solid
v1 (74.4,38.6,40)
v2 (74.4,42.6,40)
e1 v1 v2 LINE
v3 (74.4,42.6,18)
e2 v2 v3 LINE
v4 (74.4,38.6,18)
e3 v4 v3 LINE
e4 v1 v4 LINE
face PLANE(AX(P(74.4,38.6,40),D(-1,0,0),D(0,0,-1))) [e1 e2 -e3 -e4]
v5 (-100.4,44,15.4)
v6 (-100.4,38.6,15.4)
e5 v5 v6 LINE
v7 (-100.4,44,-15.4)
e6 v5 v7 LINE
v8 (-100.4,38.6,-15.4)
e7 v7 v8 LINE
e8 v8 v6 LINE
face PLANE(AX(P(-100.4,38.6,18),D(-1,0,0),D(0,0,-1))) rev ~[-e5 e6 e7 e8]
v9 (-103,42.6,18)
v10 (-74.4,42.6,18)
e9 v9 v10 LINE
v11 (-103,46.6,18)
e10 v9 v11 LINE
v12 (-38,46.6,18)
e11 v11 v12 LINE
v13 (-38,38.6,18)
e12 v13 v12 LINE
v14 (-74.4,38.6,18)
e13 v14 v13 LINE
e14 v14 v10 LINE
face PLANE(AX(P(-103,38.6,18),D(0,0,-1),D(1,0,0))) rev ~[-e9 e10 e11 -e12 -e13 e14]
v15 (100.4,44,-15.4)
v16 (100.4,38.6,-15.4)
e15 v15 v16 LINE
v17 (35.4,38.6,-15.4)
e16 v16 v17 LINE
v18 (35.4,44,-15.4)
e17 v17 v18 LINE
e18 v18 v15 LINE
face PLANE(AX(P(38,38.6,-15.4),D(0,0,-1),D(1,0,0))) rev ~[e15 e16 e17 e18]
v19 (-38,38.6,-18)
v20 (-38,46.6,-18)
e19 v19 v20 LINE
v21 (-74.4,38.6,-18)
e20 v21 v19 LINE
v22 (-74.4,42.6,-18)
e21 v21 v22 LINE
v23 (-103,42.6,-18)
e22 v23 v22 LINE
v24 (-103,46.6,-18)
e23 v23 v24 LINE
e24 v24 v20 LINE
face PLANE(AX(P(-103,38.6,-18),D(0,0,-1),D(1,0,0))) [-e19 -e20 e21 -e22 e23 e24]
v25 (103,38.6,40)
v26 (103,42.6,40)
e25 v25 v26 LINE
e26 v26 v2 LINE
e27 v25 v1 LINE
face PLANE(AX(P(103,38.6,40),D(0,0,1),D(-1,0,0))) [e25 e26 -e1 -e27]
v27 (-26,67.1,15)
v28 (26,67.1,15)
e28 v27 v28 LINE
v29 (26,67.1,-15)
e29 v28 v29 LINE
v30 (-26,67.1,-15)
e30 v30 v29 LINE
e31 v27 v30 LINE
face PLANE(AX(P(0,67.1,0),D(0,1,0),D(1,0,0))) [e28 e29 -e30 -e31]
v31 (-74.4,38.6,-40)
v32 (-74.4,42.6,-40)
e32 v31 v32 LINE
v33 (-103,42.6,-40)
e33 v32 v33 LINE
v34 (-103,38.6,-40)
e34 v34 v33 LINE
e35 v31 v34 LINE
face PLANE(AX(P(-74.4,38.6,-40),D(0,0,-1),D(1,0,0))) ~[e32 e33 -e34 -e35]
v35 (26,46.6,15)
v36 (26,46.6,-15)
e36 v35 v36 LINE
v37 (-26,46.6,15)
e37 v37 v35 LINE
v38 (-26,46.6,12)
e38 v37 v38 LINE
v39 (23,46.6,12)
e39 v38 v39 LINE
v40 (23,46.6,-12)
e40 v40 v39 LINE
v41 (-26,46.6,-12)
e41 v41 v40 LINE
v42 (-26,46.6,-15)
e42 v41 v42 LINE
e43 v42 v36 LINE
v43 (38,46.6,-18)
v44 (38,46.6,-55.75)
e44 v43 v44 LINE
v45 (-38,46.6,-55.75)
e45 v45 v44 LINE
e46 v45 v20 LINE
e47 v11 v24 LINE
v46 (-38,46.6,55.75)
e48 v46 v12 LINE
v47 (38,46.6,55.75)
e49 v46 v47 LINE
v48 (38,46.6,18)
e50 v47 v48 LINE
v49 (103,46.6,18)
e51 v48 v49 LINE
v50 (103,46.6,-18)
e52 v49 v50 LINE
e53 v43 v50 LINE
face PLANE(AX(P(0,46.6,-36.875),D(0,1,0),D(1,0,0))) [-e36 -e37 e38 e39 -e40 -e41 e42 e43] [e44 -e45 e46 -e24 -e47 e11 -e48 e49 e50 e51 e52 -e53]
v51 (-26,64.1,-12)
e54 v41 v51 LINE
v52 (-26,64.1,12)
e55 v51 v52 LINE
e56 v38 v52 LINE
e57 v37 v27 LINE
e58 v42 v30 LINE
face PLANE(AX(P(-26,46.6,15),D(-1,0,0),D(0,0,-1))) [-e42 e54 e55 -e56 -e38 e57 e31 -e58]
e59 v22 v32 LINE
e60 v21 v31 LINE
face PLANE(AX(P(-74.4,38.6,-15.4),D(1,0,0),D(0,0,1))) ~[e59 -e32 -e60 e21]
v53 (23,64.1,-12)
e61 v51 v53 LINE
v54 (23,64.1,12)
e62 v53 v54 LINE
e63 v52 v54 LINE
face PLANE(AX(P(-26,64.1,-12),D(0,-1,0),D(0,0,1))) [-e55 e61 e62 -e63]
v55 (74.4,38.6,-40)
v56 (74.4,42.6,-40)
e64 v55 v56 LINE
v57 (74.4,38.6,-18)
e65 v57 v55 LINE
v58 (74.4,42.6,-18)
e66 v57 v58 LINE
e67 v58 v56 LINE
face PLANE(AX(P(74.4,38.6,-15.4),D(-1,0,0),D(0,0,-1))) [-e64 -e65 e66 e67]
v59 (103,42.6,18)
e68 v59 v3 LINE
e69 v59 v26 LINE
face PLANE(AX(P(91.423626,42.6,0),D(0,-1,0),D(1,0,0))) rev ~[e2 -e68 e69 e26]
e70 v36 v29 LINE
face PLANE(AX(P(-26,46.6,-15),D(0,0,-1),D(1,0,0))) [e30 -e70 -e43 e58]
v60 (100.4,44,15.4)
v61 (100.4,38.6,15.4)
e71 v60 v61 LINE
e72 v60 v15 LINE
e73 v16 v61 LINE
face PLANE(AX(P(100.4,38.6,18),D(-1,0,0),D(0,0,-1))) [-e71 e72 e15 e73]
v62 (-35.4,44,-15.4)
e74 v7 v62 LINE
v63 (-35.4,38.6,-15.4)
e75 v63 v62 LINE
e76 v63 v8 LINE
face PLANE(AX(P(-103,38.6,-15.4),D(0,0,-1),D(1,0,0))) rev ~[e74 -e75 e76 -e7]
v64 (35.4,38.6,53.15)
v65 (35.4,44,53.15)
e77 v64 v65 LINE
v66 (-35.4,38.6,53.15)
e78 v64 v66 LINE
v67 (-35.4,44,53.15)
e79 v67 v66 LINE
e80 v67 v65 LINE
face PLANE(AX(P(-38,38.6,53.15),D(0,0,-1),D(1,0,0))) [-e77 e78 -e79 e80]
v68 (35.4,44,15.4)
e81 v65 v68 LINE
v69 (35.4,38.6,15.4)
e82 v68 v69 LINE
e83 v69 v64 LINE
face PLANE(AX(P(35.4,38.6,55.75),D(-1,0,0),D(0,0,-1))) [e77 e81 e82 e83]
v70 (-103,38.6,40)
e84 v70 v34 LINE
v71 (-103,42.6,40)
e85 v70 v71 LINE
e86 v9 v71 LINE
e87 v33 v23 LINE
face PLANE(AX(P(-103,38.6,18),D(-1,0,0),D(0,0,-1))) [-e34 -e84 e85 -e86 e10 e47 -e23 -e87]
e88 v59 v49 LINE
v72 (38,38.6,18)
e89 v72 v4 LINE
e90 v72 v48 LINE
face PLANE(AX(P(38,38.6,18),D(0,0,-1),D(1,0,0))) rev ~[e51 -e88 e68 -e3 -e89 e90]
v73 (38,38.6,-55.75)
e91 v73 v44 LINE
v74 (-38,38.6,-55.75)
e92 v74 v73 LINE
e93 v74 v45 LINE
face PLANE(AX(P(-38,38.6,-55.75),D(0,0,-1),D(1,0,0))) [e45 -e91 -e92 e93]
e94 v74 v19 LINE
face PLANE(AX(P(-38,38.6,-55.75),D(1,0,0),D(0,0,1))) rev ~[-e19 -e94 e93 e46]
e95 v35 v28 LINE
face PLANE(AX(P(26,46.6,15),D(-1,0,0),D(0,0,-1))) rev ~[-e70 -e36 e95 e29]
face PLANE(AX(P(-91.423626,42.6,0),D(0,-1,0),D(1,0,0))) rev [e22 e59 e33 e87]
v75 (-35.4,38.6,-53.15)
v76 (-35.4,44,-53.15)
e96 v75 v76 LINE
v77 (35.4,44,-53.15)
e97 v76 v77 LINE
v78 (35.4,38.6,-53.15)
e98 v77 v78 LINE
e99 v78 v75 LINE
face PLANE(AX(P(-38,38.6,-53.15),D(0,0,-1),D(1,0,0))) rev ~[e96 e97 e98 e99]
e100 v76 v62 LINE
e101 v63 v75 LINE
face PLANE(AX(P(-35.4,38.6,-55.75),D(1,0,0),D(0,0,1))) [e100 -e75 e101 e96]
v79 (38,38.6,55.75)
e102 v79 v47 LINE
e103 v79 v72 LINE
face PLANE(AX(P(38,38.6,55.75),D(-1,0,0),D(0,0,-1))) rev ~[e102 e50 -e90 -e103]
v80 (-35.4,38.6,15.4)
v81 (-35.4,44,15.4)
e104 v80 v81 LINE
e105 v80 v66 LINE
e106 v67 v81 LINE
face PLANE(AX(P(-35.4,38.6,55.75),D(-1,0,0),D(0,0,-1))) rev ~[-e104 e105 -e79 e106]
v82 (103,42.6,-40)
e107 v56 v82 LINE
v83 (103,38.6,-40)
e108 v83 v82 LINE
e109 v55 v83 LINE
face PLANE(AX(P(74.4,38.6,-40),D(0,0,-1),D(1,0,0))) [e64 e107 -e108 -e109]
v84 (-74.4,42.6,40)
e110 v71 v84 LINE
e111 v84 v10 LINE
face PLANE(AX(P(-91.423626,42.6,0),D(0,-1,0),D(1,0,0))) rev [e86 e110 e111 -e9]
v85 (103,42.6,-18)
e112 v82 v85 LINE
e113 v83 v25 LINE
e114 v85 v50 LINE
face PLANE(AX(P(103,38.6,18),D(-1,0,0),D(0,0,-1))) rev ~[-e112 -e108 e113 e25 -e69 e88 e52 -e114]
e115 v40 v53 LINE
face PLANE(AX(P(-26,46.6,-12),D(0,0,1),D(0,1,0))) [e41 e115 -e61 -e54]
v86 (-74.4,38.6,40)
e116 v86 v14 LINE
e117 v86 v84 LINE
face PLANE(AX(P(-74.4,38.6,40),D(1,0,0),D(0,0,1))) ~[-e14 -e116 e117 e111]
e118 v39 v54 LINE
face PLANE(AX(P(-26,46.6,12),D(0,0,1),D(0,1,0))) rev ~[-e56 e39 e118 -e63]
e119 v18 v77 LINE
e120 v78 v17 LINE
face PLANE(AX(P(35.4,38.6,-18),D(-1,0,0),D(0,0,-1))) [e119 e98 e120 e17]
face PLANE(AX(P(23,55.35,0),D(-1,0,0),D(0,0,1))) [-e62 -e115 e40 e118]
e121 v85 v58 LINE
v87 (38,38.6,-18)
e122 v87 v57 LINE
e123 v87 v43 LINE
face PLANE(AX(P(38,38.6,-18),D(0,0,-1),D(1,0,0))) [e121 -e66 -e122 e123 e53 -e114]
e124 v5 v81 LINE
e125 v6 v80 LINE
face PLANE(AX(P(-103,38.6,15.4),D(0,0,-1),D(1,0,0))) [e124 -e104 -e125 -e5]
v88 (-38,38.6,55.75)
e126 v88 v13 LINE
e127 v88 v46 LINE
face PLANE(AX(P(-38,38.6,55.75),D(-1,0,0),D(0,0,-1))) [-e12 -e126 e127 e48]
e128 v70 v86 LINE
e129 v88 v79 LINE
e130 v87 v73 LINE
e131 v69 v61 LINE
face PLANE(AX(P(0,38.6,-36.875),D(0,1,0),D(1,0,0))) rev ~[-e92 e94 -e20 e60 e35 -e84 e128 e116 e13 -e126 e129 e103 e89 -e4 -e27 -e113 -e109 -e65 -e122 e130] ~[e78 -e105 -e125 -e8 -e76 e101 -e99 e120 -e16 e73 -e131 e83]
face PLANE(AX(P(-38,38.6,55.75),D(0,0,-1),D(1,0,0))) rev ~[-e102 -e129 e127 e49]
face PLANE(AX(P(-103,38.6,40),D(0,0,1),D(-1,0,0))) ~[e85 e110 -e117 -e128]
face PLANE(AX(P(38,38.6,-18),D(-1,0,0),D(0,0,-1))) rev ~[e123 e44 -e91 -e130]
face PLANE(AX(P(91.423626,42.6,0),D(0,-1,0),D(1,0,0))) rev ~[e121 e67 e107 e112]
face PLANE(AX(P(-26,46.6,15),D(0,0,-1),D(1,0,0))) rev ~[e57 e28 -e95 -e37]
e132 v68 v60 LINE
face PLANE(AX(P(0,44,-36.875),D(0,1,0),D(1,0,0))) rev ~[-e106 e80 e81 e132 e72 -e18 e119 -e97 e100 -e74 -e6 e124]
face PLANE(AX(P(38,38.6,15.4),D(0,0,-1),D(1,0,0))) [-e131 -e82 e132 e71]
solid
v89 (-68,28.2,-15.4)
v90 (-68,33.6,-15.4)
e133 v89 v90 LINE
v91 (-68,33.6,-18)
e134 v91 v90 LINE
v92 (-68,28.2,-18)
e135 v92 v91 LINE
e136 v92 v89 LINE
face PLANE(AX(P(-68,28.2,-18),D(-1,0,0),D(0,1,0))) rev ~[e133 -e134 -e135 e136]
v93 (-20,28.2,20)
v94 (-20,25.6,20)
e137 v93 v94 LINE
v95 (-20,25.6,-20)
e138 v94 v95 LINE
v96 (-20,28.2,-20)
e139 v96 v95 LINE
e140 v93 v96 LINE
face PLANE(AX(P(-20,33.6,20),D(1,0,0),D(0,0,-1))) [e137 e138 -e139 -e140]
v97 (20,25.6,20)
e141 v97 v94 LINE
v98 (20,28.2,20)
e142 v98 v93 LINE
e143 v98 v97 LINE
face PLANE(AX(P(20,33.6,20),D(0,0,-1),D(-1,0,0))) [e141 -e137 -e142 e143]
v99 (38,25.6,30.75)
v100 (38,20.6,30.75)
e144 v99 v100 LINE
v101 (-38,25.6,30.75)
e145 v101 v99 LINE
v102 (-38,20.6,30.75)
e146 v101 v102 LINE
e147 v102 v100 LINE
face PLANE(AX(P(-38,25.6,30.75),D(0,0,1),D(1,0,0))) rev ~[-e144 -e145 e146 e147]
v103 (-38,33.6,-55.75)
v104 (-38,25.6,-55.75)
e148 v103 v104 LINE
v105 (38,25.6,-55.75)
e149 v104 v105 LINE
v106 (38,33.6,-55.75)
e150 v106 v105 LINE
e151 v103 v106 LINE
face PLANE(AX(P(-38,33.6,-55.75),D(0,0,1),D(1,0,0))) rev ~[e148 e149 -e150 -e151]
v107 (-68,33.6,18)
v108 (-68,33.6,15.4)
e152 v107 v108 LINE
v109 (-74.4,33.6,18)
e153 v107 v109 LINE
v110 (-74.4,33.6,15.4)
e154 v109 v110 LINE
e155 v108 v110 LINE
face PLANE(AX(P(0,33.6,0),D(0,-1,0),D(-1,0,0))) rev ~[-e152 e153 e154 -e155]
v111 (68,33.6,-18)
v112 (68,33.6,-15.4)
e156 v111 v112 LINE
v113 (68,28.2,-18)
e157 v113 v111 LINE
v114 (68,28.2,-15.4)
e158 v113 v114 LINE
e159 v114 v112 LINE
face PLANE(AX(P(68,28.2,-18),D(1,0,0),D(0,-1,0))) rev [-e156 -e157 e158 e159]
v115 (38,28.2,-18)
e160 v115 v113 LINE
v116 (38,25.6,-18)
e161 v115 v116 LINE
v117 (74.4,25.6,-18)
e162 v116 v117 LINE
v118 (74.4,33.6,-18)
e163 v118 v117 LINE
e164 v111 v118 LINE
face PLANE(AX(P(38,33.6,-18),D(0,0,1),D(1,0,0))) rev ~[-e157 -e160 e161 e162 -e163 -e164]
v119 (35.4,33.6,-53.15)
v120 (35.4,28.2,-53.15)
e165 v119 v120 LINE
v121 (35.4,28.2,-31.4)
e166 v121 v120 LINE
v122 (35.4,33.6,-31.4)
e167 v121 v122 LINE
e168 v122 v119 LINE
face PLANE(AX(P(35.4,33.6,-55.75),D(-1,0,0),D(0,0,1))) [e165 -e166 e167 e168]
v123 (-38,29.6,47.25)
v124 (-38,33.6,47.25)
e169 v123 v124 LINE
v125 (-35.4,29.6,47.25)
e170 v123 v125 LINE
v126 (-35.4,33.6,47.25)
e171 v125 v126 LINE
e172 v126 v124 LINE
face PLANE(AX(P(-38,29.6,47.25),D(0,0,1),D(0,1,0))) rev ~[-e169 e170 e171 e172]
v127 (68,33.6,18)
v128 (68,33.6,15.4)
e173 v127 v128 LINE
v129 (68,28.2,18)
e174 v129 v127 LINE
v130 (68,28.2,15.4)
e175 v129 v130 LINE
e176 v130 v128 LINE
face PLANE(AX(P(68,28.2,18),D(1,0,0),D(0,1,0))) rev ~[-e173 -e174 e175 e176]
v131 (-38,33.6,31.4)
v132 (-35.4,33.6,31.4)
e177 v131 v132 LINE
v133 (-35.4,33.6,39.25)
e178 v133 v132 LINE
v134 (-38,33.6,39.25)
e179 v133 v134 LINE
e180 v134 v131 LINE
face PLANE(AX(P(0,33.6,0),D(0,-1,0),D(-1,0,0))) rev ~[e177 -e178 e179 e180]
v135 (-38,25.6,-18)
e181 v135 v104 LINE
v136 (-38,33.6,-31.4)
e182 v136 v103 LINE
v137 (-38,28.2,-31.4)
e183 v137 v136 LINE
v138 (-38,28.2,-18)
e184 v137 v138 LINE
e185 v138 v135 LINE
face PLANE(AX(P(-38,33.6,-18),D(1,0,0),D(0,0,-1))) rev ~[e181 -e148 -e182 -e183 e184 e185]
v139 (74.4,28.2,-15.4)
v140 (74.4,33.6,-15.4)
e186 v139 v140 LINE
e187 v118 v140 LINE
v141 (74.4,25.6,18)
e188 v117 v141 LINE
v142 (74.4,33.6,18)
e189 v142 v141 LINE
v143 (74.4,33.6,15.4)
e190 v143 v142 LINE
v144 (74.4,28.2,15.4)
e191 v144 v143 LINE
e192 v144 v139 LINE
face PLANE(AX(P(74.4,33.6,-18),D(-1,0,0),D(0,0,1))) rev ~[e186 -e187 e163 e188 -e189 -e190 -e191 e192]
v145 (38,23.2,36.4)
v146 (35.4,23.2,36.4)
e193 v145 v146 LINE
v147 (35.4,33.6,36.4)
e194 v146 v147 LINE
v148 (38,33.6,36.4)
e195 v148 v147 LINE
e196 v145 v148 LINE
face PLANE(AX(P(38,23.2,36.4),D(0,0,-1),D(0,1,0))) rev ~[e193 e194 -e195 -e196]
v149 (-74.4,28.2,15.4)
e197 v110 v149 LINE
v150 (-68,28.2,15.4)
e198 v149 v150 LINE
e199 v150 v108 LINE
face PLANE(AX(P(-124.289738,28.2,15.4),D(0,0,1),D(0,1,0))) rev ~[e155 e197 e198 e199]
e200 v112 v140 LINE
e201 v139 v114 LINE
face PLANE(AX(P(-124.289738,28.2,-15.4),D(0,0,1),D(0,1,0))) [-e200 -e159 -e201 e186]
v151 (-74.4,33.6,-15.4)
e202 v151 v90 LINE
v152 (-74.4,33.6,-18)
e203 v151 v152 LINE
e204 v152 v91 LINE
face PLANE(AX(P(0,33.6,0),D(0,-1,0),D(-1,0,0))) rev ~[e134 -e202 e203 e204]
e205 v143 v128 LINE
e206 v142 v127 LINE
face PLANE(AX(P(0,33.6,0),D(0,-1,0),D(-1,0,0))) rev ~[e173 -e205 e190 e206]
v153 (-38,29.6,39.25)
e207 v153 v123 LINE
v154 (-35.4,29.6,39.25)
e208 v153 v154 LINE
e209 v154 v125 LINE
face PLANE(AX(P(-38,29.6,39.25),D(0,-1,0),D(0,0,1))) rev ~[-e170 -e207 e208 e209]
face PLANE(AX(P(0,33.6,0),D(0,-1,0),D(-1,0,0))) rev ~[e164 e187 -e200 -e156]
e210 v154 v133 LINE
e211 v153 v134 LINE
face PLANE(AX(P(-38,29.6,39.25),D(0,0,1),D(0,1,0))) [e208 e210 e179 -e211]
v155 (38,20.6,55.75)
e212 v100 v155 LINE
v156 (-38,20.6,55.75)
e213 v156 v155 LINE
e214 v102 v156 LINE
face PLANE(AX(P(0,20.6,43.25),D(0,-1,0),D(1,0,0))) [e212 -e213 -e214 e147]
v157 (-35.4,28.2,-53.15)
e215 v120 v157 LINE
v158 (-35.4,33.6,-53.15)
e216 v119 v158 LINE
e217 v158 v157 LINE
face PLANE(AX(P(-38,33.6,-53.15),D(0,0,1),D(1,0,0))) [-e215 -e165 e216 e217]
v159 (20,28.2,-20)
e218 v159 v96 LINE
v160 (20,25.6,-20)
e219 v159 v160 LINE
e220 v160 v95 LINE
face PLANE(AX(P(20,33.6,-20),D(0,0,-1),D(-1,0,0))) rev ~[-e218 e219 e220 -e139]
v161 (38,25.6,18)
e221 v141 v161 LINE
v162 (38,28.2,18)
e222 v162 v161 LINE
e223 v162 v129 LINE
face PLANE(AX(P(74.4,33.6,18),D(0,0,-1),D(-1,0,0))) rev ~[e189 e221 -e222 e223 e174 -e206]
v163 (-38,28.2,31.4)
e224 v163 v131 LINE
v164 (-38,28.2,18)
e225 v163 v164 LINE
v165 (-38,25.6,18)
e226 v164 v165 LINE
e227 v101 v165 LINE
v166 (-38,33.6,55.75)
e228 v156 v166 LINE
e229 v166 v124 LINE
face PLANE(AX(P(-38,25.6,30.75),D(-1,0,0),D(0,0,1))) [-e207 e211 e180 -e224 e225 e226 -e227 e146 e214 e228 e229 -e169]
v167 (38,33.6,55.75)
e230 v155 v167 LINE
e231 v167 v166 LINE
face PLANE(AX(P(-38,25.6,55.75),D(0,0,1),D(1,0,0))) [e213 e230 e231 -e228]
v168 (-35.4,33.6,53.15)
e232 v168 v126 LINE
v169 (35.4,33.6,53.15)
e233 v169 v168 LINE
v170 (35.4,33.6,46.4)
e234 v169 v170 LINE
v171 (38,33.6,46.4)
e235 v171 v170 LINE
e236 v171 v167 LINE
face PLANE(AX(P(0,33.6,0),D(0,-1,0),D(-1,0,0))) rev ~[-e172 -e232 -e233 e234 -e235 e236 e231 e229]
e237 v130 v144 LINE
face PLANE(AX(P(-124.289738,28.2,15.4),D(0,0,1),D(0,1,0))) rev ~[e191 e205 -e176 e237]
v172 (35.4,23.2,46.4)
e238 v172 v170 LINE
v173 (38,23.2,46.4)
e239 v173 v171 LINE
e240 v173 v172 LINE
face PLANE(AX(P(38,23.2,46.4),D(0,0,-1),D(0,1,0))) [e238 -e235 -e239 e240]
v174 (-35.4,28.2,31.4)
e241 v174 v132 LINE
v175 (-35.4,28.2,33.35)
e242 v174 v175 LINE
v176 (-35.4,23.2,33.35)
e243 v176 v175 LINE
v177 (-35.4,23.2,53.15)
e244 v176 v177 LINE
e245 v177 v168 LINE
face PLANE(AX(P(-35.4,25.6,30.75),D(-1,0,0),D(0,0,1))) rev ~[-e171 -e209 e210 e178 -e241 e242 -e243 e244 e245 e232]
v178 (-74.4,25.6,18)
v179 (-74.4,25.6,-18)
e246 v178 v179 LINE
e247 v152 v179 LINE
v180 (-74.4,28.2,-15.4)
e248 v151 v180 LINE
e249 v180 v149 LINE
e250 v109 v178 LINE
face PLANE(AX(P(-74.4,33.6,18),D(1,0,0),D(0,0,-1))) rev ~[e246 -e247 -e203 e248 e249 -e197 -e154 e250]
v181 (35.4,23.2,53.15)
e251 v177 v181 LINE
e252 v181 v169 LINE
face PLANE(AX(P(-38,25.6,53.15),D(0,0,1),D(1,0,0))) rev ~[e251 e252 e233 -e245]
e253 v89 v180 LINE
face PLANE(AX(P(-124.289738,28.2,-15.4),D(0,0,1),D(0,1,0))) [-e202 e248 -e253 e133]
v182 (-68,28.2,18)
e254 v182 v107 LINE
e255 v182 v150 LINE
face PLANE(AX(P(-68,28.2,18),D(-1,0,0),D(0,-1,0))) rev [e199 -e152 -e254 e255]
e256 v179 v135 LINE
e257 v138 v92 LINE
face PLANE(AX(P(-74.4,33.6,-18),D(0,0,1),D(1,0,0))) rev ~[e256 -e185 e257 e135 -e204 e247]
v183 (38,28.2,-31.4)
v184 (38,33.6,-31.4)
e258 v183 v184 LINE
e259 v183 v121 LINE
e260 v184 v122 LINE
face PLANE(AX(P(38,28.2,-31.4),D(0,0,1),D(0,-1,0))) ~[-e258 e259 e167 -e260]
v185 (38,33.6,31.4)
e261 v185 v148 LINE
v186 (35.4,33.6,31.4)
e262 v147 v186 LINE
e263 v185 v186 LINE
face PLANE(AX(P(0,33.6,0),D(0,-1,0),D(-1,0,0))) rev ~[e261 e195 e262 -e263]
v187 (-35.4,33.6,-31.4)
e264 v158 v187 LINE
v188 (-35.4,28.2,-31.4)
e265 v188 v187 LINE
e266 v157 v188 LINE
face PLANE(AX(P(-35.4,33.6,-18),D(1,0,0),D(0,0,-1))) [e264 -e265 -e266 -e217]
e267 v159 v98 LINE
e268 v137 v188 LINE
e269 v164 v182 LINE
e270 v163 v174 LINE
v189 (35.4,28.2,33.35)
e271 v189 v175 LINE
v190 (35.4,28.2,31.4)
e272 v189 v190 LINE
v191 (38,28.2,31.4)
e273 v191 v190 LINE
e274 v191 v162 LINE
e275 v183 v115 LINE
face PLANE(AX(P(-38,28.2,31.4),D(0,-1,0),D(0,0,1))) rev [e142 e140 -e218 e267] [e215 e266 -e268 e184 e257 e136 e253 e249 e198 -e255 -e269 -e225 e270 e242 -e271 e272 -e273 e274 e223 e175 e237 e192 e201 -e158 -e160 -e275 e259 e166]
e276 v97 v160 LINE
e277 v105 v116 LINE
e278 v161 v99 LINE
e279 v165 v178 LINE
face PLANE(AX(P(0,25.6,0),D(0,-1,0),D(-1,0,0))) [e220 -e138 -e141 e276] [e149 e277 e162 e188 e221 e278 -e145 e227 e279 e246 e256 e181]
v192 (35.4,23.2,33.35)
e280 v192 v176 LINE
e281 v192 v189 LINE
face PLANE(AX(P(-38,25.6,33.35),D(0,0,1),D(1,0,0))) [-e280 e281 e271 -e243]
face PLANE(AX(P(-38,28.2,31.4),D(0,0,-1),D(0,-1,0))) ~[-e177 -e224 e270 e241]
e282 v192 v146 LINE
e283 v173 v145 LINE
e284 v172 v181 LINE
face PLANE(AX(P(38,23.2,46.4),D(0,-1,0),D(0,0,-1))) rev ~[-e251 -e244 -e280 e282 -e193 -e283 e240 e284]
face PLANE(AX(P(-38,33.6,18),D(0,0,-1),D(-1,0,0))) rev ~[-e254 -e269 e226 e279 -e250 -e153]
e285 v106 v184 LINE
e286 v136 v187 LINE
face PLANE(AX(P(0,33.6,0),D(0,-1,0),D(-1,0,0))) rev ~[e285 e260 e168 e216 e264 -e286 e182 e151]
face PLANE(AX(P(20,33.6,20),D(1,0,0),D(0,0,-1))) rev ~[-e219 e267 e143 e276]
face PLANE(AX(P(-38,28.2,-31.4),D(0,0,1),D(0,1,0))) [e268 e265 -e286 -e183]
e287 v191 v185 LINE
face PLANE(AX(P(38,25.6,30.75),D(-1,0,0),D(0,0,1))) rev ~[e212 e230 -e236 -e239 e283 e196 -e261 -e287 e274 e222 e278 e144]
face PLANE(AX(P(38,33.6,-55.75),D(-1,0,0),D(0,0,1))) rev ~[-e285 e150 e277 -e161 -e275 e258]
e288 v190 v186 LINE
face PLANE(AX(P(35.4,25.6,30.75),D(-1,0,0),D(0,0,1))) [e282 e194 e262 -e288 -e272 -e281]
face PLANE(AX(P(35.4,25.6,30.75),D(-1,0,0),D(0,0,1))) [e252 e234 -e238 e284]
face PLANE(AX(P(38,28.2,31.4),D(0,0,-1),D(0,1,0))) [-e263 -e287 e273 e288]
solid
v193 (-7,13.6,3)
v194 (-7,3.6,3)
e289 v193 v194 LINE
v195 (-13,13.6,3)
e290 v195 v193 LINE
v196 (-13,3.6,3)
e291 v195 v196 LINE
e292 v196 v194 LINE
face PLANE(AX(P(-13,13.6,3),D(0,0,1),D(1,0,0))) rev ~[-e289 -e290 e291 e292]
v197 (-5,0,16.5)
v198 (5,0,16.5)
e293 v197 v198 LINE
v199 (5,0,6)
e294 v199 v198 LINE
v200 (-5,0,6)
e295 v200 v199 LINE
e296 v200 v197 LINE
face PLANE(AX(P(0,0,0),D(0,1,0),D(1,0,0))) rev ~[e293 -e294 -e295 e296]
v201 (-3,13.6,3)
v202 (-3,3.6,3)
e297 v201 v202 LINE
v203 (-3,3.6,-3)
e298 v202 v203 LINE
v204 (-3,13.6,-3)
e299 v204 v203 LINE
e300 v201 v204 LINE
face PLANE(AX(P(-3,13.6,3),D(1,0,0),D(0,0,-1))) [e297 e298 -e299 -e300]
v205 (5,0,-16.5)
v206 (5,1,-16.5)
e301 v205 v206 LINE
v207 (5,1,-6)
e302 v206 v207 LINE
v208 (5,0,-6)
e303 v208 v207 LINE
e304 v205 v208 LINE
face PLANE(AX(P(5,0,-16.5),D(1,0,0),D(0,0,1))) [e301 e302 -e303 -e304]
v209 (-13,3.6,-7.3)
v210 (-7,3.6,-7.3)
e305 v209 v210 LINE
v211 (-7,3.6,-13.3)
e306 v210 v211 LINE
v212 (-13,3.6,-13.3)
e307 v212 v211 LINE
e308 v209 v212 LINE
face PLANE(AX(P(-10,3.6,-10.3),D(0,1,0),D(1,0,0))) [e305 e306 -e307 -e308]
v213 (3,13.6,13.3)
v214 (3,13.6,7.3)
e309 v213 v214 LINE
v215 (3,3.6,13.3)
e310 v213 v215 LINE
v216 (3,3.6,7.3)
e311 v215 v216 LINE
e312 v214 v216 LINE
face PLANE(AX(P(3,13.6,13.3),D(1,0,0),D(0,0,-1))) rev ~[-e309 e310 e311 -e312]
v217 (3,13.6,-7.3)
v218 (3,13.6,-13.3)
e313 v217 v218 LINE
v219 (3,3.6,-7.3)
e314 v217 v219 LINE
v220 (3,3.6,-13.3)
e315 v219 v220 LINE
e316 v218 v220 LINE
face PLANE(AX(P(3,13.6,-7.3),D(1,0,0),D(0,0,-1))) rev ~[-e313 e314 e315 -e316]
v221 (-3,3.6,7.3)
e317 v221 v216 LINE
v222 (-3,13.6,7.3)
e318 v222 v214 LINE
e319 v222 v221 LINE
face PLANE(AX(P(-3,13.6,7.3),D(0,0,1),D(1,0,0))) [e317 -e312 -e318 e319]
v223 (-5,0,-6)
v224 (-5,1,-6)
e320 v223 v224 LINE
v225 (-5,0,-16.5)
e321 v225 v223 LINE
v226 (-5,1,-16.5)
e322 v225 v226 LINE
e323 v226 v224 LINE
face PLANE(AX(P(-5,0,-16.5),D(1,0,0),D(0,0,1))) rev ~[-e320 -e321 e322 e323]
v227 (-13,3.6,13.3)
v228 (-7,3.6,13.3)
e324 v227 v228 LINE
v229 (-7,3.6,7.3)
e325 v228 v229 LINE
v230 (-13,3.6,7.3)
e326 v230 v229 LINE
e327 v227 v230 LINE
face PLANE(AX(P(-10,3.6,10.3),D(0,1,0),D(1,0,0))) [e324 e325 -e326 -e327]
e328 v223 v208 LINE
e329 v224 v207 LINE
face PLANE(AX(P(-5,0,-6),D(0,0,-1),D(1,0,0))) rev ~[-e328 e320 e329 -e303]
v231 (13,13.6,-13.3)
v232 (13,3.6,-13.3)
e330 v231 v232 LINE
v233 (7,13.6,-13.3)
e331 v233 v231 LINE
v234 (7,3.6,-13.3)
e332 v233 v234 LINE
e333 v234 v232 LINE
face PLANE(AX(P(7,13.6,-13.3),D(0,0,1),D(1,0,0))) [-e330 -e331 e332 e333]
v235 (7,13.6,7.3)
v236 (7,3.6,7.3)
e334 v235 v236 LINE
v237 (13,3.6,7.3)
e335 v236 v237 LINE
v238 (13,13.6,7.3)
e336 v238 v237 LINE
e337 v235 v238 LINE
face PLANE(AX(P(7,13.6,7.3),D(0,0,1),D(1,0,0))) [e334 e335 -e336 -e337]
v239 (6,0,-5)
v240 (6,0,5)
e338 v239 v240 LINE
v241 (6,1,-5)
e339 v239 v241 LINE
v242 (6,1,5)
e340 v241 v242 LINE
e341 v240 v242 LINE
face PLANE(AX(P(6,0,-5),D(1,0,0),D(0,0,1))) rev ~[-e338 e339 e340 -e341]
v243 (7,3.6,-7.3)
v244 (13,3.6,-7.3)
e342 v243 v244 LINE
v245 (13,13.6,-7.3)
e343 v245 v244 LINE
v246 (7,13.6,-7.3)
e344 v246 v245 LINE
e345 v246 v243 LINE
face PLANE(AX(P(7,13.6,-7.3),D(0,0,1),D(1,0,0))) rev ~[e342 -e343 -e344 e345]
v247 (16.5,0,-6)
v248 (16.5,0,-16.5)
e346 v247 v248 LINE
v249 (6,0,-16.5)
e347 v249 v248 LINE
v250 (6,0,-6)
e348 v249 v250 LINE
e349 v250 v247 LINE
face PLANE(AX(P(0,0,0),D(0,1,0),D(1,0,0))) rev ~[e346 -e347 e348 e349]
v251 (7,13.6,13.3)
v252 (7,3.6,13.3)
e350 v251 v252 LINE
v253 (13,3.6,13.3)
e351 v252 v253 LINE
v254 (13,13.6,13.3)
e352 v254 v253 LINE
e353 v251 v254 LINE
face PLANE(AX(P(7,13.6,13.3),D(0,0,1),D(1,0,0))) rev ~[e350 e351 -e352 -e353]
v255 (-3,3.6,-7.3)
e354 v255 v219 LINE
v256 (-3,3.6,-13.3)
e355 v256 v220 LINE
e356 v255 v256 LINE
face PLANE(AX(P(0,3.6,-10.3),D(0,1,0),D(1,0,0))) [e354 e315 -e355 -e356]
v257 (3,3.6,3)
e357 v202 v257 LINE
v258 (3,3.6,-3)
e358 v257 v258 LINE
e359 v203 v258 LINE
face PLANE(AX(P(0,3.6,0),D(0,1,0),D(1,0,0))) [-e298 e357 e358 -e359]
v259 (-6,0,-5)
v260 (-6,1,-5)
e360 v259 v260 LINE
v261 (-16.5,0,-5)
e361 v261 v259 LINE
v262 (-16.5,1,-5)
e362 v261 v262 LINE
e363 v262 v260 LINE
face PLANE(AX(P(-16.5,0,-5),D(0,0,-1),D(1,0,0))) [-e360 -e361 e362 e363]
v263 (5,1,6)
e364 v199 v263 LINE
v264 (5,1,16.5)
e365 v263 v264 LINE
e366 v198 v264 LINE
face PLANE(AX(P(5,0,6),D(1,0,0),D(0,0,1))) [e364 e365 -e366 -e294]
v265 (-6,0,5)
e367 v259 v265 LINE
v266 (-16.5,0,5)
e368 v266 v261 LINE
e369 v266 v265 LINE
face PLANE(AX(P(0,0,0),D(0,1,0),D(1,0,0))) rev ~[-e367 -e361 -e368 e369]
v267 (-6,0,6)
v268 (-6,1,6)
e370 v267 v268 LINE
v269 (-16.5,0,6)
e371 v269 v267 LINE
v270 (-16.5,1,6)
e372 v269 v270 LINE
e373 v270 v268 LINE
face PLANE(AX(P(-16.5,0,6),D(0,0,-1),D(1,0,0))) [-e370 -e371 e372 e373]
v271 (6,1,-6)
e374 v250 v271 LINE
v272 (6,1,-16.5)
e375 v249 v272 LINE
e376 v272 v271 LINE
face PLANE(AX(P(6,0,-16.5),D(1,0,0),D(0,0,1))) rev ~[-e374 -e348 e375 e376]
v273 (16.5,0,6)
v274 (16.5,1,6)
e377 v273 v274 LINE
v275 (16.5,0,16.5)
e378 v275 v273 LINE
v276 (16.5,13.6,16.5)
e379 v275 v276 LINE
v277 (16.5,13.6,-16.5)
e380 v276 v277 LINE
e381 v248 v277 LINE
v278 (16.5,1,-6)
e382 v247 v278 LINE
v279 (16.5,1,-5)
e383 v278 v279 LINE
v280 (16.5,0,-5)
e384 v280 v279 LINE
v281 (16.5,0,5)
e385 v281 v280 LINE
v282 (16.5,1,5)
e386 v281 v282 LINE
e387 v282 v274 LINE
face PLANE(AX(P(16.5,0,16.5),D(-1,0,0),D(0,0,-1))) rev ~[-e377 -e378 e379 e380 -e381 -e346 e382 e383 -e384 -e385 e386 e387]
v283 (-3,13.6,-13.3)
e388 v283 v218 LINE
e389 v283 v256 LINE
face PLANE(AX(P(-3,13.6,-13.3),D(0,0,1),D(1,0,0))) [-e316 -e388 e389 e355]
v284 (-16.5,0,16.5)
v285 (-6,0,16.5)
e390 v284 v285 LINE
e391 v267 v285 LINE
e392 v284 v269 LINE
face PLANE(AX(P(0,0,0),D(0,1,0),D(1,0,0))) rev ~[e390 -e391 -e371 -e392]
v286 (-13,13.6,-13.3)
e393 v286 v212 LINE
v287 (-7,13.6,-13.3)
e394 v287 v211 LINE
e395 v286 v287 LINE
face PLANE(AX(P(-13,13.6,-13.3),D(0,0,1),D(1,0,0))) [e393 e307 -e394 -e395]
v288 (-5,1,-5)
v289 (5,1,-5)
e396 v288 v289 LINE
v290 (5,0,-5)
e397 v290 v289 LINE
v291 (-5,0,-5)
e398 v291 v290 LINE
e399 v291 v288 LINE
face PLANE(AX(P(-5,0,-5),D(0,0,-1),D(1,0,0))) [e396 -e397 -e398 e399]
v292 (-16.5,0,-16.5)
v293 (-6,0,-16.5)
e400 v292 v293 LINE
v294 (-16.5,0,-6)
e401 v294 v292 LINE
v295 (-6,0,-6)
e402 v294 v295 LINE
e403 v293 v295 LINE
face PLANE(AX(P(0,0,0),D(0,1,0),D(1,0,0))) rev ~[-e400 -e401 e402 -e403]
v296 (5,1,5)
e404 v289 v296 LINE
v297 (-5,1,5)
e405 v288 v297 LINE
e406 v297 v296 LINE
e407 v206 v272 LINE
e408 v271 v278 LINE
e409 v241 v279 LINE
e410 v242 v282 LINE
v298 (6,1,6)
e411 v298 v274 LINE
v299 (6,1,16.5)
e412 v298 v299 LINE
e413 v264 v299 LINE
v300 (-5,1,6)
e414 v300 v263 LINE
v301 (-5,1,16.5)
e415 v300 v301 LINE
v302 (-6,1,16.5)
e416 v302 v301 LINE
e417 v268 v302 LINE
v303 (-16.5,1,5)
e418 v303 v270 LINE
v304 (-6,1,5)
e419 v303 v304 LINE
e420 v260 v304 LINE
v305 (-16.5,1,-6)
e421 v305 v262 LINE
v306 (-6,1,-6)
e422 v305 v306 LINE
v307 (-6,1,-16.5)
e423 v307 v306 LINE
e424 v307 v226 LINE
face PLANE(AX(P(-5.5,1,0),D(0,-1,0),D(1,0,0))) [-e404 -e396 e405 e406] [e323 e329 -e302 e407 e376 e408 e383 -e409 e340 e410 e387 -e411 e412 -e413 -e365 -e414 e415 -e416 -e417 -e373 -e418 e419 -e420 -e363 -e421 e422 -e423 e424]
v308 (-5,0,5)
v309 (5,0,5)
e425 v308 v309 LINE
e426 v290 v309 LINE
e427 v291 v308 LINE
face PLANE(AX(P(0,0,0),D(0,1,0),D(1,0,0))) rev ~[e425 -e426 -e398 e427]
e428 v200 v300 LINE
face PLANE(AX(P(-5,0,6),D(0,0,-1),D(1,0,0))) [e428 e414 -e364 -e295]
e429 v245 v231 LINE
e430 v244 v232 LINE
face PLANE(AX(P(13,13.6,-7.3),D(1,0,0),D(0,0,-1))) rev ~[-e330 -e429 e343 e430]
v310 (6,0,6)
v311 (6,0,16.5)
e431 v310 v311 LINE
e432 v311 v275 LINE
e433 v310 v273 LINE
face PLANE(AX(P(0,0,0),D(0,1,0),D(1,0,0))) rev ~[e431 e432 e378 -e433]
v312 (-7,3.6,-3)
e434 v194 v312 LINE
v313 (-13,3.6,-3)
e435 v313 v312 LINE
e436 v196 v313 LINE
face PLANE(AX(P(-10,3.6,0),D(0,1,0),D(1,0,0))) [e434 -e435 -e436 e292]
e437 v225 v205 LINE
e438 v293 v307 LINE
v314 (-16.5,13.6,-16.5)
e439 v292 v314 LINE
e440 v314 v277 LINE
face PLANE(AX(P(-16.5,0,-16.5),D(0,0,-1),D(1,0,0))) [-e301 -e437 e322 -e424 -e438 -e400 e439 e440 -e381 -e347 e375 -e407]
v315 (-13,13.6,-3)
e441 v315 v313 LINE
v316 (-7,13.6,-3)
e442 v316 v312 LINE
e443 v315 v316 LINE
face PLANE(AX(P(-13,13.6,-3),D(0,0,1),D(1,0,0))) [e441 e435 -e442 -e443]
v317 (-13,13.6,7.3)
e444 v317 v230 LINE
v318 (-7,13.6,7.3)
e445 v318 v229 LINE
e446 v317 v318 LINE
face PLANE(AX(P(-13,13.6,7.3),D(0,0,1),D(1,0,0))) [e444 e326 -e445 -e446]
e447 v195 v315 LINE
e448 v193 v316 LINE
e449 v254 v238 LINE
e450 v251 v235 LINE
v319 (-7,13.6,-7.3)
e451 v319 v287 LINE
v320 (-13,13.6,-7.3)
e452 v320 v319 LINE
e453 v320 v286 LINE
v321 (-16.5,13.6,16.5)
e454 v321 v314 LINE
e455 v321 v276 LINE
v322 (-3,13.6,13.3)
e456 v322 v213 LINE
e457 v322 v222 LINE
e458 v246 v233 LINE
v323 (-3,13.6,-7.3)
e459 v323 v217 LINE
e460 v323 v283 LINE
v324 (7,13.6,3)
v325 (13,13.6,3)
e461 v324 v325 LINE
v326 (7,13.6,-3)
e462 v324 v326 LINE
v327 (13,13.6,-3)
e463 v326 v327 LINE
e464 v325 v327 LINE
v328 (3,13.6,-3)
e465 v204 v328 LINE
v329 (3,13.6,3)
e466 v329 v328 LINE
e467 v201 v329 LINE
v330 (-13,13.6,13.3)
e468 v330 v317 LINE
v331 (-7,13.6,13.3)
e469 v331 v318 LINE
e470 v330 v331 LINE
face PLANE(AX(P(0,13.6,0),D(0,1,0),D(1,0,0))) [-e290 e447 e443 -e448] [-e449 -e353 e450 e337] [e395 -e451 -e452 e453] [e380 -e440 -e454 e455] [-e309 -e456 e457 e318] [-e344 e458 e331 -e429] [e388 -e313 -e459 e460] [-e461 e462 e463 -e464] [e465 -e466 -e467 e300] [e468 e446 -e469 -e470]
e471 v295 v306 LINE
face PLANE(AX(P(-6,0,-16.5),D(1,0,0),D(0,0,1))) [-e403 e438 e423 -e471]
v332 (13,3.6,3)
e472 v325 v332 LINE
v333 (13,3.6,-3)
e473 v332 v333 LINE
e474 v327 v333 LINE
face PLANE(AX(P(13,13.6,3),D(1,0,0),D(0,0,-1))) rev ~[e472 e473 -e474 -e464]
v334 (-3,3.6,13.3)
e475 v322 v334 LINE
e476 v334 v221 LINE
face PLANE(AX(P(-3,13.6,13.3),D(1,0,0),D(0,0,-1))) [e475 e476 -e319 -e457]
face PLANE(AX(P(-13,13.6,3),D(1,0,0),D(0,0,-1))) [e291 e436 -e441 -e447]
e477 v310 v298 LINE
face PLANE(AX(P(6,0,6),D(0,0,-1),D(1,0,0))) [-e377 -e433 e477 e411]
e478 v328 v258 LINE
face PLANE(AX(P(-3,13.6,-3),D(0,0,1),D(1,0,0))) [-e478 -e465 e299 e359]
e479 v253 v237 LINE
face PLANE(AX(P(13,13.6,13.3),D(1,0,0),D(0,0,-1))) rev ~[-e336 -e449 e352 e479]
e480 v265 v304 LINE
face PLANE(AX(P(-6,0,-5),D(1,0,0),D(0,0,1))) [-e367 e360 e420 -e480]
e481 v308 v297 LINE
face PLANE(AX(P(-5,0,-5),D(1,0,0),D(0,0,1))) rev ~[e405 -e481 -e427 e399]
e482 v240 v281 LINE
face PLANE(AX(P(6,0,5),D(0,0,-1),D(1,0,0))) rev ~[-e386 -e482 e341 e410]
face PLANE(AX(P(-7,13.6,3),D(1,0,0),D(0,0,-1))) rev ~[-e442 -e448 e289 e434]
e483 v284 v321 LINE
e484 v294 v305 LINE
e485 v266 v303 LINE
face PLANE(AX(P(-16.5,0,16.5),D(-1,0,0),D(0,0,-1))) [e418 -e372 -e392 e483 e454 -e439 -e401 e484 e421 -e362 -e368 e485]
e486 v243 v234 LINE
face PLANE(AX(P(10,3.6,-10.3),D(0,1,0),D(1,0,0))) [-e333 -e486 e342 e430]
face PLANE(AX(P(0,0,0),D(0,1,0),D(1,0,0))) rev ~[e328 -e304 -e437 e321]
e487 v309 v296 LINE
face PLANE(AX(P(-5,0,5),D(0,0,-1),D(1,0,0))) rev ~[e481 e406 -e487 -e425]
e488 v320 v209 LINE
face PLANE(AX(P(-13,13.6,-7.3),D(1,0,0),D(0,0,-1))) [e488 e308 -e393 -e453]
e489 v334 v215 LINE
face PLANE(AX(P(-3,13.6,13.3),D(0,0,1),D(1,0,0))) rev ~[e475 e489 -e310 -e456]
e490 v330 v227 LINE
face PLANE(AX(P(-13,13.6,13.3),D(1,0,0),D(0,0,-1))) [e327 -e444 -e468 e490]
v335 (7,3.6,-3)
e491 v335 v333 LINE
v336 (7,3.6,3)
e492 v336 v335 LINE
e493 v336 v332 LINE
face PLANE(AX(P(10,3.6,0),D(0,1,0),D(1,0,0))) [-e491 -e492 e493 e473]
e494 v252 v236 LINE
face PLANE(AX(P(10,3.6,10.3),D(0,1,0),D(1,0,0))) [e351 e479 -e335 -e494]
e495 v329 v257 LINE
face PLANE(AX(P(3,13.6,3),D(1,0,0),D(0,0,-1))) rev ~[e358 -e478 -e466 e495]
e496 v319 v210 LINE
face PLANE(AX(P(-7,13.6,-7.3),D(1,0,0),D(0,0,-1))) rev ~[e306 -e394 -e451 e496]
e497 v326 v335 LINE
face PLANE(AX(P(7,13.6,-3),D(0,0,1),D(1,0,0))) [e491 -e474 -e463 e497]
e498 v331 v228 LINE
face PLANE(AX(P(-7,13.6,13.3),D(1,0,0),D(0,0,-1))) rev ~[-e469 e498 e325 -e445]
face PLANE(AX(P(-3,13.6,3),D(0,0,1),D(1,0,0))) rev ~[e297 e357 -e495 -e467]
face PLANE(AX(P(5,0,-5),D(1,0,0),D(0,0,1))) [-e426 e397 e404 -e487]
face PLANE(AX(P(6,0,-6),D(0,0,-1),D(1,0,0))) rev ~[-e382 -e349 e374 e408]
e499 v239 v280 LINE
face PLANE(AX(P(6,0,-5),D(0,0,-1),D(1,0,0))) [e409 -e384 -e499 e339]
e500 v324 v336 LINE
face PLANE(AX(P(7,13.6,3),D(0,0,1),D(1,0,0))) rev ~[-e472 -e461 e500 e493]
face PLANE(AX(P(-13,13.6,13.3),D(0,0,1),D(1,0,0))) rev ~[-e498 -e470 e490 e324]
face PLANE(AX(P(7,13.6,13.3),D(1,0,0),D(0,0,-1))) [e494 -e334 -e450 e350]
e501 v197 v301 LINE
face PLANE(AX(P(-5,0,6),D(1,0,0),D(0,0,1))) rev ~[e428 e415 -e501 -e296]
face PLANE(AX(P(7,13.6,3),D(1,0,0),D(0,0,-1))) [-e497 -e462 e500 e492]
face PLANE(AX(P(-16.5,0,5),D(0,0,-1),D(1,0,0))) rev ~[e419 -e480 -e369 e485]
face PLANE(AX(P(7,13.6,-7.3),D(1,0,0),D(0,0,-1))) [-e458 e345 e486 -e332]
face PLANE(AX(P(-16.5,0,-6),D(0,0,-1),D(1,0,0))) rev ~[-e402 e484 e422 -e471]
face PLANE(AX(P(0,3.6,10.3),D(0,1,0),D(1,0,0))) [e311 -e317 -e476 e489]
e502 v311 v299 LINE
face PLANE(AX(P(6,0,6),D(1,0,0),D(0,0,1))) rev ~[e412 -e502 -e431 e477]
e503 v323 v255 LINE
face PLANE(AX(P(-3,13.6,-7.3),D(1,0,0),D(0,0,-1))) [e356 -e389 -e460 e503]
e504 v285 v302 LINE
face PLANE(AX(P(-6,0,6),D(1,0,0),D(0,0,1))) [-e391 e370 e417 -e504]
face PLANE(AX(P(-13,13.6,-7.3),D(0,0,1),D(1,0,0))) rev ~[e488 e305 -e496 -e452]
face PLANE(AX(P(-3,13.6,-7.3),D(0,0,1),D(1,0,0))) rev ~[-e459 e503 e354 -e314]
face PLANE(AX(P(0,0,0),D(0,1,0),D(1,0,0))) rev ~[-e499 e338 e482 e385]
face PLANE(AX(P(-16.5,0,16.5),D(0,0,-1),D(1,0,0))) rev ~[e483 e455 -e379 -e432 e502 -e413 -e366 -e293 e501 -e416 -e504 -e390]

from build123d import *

# Parameters (mm, degrees)
SKETCH1_W               = 33
SKETCH1_H               = 33
BOSS_EXTRUDE1_DEPTH     = 13.6
SKETCH2_W               = 6
SKETCH2_H               = 6
CUT_EXTRUDE1_DEPTH      = 10
LPATTERN1_COUNT         = 5
LPATTERN1_PITCH         = 10.3
LPATTERN2_COUNT         = 2
LPATTERN2_PITCH         = 10.3
SKETCH3_W               = 1
SKETCH3_H               = 33
SKETCH3_W_2             = 33
SKETCH3_H_2             = 1
CUT_EXTRUDE_THIN1_DEPTH = 1
SKETCH4_W               = 76
SKETCH4_H               = 37.75
SKETCH4_H_2             = 36
SKETCH4_W_2             = 65
BOSS_EXTRUDE2_DEPTH     = 8
SHELL1_T                = -2.6
SKETCH5_W               = 40
SKETCH5_H               = 40
BOSS_EXTRUDE3_DEPTH     = 8
SKETCH6_W               = 76
SKETCH6_H               = 25
BOSS_EXTRUDE4_DEPTH     = 5
SHELL2_T                = -2.6
BOSS_EXTRUDE5_DEPTH     = 4
SKETCH8_W               = 8
SKETCH8_H               = 8
CUT_EXTRUDE2_DEPTH      = 2.6
SKETCH9_W               = 52
SKETCH9_H               = 30
BOSS_EXTRUDE6_DEPTH     = 20.5
SKETCH10_W              = 24
SKETCH10_H              = 17.5
CUT_EXTRUDE3_DEPTH      = 49
SKETCH11_W              = 16
SKETCH11_H              = 5.4
CUT_EXTRUDE4_DEPTH      = 2.6
SKETCH13_W              = 30
SKETCH13_H              = 5.4
CUT_EXTRUDE5_DEPTH      = 2.6
MIRROR3_COPY_1_SKETCH_W = 16
MIRROR3_COPY_1_SKETCH_H = 5.4
MIRROR3_COPY_1_DEPTH    = 2.6
MIRROR3_COPY_2_SKETCH_W = 30
MIRROR3_COPY_2_SKETCH_H = 5.4
MIRROR3_COPY_2_DEPTH    = 2.6
SKETCH14_W              = 10
SKETCH14_H              = 10.4
CUT_EXTRUDE6_DEPTH      = 2.6
CUT_EXTRUDE7_DEPTH      = 198.689737973
CUT_EXTRUDE7_DEPTH_BACK = 198.689737973
SKETCH15_W              = 30.8
SKETCH15_H              = 5.4


with BuildPart() as part:
    # Sketch1 → Boss-Extrude1 (new body)
    with BuildSketch(Plane(origin=(0, 0, 0), x_dir=(1, 0, 0), z_dir=(0, 1, 0))):
        Rectangle(SKETCH1_W, SKETCH1_H)
    extrude(amount=BOSS_EXTRUDE1_DEPTH)

    # Sketch2 → Cut-Extrude1 (cut)
    with BuildSketch(Plane(origin=(0, 13.6, 0), x_dir=(1, 0, 0), z_dir=(0, 1, 0))):
        Rectangle(SKETCH2_W, SKETCH2_H)
        with Locations((-10, 0)):
            Rectangle(SKETCH2_W, SKETCH2_H)
        with Locations((10, 0)):
            Rectangle(SKETCH2_W, SKETCH2_H)
    cut_extrude1 = extrude(amount=-CUT_EXTRUDE1_DEPTH, mode=Mode.SUBTRACT)

    # LPattern1: Cut-Extrude1 ×5
    with Locations(*[(0, 0, i * LPATTERN1_PITCH) for i in range(1, LPATTERN1_COUNT)]):
        add(cut_extrude1, mode=Mode.SUBTRACT)

    # LPattern2: Cut-Extrude1 ×2
    with Locations(*[(0, 0, -i * LPATTERN2_PITCH) for i in range(1, LPATTERN2_COUNT)]):
        add(cut_extrude1, mode=Mode.SUBTRACT)

    # Sketch3 → Cut-Extrude-Thin1 (cut)
    with BuildSketch(Plane.XZ):
        with Locations((-5.5, 0)):
            Rectangle(SKETCH3_W, SKETCH3_H)
        with Locations((5.5, 0)):
            Rectangle(SKETCH3_W, SKETCH3_H)
        with Locations((0, 5.5)):
            Rectangle(SKETCH3_W_2, SKETCH3_H_2)
        with Locations((0, -5.5)):
            Rectangle(SKETCH3_W_2, SKETCH3_H_2)
    extrude(amount=-CUT_EXTRUDE_THIN1_DEPTH, mode=Mode.SUBTRACT)


with BuildPart() as body_2:
    # Sketch4 → Boss-Extrude2 (new body)
    with BuildSketch(Plane(origin=(0, 38.6, 0), x_dir=(1, 0, 0), z_dir=(0, 1, 0))):
        with Locations((0, 36.875)):
            Rectangle(SKETCH4_W, SKETCH4_H)
        Rectangle(SKETCH4_W, SKETCH4_H_2)
        with Locations((-70.5, 0)):
            Rectangle(SKETCH4_W_2, SKETCH4_H_2)
        with Locations((0, -36.875)):
            Rectangle(SKETCH4_W, SKETCH4_H)
        with Locations((70.5, 0)):
            Rectangle(SKETCH4_W_2, SKETCH4_H_2)
    extrude(amount=BOSS_EXTRUDE2_DEPTH)

    # Shell1
    shell1_openings = [body_2.faces().sort_by_distance(p)[0] for p in [
        (0, 38.6, 0),
    ]]
    offset(amount=SHELL1_T, openings=shell1_openings, kind=Kind.INTERSECTION)

    # Sketch7 → Boss-Extrude5 (add)
    with BuildSketch(Plane.XZ.offset(-38.6)):
        Polygon((74.4, 15.4), (100.4, 15.4), (100.4, -15.4), (74.4, -15.4), (74.4, -40), (103, -40), (103, 40), (74.4, 40), align=None)
    boss_extrude5 = extrude(amount=-BOSS_EXTRUDE5_DEPTH)

    # Mirror1: Boss-Extrude5 across plane
    add(boss_extrude5.mirror(Plane(origin=(0, 0, 0), x_dir=(0, 0, 1), z_dir=(1, 0, 0))))

    # Sketch9 → Boss-Extrude6 (add)
    with BuildSketch(Plane(origin=(0, 46.6, 0), x_dir=(1, 0, 0), z_dir=(0, 1, 0))):
        Rectangle(SKETCH9_W, SKETCH9_H)
    extrude(amount=BOSS_EXTRUDE6_DEPTH)

    # Sketch10 → Cut-Extrude3 (cut)
    with BuildSketch(Plane.ZY.offset(26)):
        with Locations((0, 55.35)):
            Rectangle(SKETCH10_W, SKETCH10_H)
    extrude(amount=-CUT_EXTRUDE3_DEPTH, mode=Mode.SUBTRACT)


with BuildPart() as body_3:
    # Sketch5 → Boss-Extrude3 (new body)
    with BuildSketch(Plane(origin=(0, 33.6, 0), x_dir=(-1, 0, 0), z_dir=(0, -1, 0))):
        Polygon((-74.4, 18), (-74.4, -18), (-38, -18), (-38, -55.75), (38, -55.75), (38, -18), (74.4, -18), (74.4, 18), (38, 18), (38, 55.75), (-38, 55.75), (-38, 18), align=None)
        Rectangle(SKETCH5_W, SKETCH5_H, mode=Mode.SUBTRACT)
    extrude(amount=BOSS_EXTRUDE3_DEPTH)

    # Sketch6 → Boss-Extrude4 (add)
    with BuildSketch(Plane.XZ.offset(-25.6)):
        with Locations((0, 43.25)):
            Rectangle(SKETCH6_W, SKETCH6_H)
    extrude(amount=BOSS_EXTRUDE4_DEPTH)

    # Shell2
    shell2_openings = [body_3.faces().sort_by_distance(p)[0] for p in [
        (72.540599828, 33.6, 0),
        (-20, 29.6, 0),
        (0, 29.6, -20),
        (20, 29.6, 0),
        (0, 29.6, 20),
    ]]
    offset(amount=SHELL2_T, openings=shell2_openings, kind=Kind.INTERSECTION)

    # Sketch8 → Cut-Extrude2 (cut)
    with BuildSketch(Plane.ZY.offset(38)):
        with Locations((43.25, 33.6)):
            Rectangle(SKETCH8_W, SKETCH8_H)
    extrude(amount=-CUT_EXTRUDE2_DEPTH, mode=Mode.SUBTRACT)

    # Sketch11 → Cut-Extrude4 (cut)
    with BuildSketch(Plane(origin=(38, 0, 0), x_dir=(0, 0, -1), z_dir=(1, 0, 0))):
        with Locations((-23.4, 30.9)):
            Rectangle(SKETCH11_W, SKETCH11_H)
    cut_extrude4 = extrude(amount=-CUT_EXTRUDE4_DEPTH, mode=Mode.SUBTRACT)

    # Sketch13 → Cut-Extrude5 (cut)
    with BuildSketch(Plane.XY.offset(18)):
        with Locations((53, 30.9)):
            Rectangle(SKETCH13_W, SKETCH13_H)
    cut_extrude5 = extrude(amount=-CUT_EXTRUDE5_DEPTH, mode=Mode.SUBTRACT)

    # Mirror2: Cut-Extrude4, Cut-Extrude5 across plane
    add(cut_extrude4.mirror(Plane.XY), mode=Mode.SUBTRACT)
    add(cut_extrude5.mirror(Plane.XY), mode=Mode.SUBTRACT)

    # Mirror3: Cut-Extrude4, Cut-Extrude5 across plane
    add(cut_extrude4.mirror(Plane(origin=(0, 0, 0), x_dir=(0, 0, 1), z_dir=(1, 0, 0))), mode=Mode.SUBTRACT)
    add(cut_extrude5.mirror(Plane(origin=(0, 0, 0), x_dir=(0, 0, 1), z_dir=(1, 0, 0))), mode=Mode.SUBTRACT)

    # Mirror3 copy 1 sketch → Mirror3 copy 1 (cut)
    with BuildSketch(Plane.ZY.offset(38)):
        with Locations((-23.4, 30.9)):
            Rectangle(MIRROR3_COPY_1_SKETCH_W, MIRROR3_COPY_1_SKETCH_H)
    extrude(amount=-MIRROR3_COPY_1_DEPTH, mode=Mode.SUBTRACT)

    # Mirror3 copy 2 sketch → Mirror3 copy 2 (cut)
    with BuildSketch(Plane(origin=(0, 0, -18), x_dir=(-1, 0, 0), z_dir=(0, 0, -1))):
        with Locations((53, 30.9)):
            Rectangle(MIRROR3_COPY_2_SKETCH_W, MIRROR3_COPY_2_SKETCH_H)
    extrude(amount=-MIRROR3_COPY_2_DEPTH, mode=Mode.SUBTRACT)

    # Sketch14 → Cut-Extrude6 (cut)
    with BuildSketch(Plane(origin=(38, 0, 0), x_dir=(0, 0, -1), z_dir=(1, 0, 0))):
        with Locations((-41.4, 28.4)):
            Rectangle(SKETCH14_W, SKETCH14_H)
    extrude(amount=-CUT_EXTRUDE6_DEPTH, mode=Mode.SUBTRACT)

    # Sketch15 → Cut-Extrude7 (cut, two sides: drawn at the far end of the back side and taken through both)
    with BuildSketch(Plane(origin=(74.4, 0, 0), x_dir=(0, 0, -1), z_dir=(1, 0, 0)).offset(-CUT_EXTRUDE7_DEPTH_BACK)):
        with Locations((0, 30.9)):
            Rectangle(SKETCH15_W, SKETCH15_H)
    extrude(amount=CUT_EXTRUDE7_DEPTH + CUT_EXTRUDE7_DEPTH_BACK, mode=Mode.SUBTRACT)


solid = Compound([part.part, body_2.part, body_3.part])
